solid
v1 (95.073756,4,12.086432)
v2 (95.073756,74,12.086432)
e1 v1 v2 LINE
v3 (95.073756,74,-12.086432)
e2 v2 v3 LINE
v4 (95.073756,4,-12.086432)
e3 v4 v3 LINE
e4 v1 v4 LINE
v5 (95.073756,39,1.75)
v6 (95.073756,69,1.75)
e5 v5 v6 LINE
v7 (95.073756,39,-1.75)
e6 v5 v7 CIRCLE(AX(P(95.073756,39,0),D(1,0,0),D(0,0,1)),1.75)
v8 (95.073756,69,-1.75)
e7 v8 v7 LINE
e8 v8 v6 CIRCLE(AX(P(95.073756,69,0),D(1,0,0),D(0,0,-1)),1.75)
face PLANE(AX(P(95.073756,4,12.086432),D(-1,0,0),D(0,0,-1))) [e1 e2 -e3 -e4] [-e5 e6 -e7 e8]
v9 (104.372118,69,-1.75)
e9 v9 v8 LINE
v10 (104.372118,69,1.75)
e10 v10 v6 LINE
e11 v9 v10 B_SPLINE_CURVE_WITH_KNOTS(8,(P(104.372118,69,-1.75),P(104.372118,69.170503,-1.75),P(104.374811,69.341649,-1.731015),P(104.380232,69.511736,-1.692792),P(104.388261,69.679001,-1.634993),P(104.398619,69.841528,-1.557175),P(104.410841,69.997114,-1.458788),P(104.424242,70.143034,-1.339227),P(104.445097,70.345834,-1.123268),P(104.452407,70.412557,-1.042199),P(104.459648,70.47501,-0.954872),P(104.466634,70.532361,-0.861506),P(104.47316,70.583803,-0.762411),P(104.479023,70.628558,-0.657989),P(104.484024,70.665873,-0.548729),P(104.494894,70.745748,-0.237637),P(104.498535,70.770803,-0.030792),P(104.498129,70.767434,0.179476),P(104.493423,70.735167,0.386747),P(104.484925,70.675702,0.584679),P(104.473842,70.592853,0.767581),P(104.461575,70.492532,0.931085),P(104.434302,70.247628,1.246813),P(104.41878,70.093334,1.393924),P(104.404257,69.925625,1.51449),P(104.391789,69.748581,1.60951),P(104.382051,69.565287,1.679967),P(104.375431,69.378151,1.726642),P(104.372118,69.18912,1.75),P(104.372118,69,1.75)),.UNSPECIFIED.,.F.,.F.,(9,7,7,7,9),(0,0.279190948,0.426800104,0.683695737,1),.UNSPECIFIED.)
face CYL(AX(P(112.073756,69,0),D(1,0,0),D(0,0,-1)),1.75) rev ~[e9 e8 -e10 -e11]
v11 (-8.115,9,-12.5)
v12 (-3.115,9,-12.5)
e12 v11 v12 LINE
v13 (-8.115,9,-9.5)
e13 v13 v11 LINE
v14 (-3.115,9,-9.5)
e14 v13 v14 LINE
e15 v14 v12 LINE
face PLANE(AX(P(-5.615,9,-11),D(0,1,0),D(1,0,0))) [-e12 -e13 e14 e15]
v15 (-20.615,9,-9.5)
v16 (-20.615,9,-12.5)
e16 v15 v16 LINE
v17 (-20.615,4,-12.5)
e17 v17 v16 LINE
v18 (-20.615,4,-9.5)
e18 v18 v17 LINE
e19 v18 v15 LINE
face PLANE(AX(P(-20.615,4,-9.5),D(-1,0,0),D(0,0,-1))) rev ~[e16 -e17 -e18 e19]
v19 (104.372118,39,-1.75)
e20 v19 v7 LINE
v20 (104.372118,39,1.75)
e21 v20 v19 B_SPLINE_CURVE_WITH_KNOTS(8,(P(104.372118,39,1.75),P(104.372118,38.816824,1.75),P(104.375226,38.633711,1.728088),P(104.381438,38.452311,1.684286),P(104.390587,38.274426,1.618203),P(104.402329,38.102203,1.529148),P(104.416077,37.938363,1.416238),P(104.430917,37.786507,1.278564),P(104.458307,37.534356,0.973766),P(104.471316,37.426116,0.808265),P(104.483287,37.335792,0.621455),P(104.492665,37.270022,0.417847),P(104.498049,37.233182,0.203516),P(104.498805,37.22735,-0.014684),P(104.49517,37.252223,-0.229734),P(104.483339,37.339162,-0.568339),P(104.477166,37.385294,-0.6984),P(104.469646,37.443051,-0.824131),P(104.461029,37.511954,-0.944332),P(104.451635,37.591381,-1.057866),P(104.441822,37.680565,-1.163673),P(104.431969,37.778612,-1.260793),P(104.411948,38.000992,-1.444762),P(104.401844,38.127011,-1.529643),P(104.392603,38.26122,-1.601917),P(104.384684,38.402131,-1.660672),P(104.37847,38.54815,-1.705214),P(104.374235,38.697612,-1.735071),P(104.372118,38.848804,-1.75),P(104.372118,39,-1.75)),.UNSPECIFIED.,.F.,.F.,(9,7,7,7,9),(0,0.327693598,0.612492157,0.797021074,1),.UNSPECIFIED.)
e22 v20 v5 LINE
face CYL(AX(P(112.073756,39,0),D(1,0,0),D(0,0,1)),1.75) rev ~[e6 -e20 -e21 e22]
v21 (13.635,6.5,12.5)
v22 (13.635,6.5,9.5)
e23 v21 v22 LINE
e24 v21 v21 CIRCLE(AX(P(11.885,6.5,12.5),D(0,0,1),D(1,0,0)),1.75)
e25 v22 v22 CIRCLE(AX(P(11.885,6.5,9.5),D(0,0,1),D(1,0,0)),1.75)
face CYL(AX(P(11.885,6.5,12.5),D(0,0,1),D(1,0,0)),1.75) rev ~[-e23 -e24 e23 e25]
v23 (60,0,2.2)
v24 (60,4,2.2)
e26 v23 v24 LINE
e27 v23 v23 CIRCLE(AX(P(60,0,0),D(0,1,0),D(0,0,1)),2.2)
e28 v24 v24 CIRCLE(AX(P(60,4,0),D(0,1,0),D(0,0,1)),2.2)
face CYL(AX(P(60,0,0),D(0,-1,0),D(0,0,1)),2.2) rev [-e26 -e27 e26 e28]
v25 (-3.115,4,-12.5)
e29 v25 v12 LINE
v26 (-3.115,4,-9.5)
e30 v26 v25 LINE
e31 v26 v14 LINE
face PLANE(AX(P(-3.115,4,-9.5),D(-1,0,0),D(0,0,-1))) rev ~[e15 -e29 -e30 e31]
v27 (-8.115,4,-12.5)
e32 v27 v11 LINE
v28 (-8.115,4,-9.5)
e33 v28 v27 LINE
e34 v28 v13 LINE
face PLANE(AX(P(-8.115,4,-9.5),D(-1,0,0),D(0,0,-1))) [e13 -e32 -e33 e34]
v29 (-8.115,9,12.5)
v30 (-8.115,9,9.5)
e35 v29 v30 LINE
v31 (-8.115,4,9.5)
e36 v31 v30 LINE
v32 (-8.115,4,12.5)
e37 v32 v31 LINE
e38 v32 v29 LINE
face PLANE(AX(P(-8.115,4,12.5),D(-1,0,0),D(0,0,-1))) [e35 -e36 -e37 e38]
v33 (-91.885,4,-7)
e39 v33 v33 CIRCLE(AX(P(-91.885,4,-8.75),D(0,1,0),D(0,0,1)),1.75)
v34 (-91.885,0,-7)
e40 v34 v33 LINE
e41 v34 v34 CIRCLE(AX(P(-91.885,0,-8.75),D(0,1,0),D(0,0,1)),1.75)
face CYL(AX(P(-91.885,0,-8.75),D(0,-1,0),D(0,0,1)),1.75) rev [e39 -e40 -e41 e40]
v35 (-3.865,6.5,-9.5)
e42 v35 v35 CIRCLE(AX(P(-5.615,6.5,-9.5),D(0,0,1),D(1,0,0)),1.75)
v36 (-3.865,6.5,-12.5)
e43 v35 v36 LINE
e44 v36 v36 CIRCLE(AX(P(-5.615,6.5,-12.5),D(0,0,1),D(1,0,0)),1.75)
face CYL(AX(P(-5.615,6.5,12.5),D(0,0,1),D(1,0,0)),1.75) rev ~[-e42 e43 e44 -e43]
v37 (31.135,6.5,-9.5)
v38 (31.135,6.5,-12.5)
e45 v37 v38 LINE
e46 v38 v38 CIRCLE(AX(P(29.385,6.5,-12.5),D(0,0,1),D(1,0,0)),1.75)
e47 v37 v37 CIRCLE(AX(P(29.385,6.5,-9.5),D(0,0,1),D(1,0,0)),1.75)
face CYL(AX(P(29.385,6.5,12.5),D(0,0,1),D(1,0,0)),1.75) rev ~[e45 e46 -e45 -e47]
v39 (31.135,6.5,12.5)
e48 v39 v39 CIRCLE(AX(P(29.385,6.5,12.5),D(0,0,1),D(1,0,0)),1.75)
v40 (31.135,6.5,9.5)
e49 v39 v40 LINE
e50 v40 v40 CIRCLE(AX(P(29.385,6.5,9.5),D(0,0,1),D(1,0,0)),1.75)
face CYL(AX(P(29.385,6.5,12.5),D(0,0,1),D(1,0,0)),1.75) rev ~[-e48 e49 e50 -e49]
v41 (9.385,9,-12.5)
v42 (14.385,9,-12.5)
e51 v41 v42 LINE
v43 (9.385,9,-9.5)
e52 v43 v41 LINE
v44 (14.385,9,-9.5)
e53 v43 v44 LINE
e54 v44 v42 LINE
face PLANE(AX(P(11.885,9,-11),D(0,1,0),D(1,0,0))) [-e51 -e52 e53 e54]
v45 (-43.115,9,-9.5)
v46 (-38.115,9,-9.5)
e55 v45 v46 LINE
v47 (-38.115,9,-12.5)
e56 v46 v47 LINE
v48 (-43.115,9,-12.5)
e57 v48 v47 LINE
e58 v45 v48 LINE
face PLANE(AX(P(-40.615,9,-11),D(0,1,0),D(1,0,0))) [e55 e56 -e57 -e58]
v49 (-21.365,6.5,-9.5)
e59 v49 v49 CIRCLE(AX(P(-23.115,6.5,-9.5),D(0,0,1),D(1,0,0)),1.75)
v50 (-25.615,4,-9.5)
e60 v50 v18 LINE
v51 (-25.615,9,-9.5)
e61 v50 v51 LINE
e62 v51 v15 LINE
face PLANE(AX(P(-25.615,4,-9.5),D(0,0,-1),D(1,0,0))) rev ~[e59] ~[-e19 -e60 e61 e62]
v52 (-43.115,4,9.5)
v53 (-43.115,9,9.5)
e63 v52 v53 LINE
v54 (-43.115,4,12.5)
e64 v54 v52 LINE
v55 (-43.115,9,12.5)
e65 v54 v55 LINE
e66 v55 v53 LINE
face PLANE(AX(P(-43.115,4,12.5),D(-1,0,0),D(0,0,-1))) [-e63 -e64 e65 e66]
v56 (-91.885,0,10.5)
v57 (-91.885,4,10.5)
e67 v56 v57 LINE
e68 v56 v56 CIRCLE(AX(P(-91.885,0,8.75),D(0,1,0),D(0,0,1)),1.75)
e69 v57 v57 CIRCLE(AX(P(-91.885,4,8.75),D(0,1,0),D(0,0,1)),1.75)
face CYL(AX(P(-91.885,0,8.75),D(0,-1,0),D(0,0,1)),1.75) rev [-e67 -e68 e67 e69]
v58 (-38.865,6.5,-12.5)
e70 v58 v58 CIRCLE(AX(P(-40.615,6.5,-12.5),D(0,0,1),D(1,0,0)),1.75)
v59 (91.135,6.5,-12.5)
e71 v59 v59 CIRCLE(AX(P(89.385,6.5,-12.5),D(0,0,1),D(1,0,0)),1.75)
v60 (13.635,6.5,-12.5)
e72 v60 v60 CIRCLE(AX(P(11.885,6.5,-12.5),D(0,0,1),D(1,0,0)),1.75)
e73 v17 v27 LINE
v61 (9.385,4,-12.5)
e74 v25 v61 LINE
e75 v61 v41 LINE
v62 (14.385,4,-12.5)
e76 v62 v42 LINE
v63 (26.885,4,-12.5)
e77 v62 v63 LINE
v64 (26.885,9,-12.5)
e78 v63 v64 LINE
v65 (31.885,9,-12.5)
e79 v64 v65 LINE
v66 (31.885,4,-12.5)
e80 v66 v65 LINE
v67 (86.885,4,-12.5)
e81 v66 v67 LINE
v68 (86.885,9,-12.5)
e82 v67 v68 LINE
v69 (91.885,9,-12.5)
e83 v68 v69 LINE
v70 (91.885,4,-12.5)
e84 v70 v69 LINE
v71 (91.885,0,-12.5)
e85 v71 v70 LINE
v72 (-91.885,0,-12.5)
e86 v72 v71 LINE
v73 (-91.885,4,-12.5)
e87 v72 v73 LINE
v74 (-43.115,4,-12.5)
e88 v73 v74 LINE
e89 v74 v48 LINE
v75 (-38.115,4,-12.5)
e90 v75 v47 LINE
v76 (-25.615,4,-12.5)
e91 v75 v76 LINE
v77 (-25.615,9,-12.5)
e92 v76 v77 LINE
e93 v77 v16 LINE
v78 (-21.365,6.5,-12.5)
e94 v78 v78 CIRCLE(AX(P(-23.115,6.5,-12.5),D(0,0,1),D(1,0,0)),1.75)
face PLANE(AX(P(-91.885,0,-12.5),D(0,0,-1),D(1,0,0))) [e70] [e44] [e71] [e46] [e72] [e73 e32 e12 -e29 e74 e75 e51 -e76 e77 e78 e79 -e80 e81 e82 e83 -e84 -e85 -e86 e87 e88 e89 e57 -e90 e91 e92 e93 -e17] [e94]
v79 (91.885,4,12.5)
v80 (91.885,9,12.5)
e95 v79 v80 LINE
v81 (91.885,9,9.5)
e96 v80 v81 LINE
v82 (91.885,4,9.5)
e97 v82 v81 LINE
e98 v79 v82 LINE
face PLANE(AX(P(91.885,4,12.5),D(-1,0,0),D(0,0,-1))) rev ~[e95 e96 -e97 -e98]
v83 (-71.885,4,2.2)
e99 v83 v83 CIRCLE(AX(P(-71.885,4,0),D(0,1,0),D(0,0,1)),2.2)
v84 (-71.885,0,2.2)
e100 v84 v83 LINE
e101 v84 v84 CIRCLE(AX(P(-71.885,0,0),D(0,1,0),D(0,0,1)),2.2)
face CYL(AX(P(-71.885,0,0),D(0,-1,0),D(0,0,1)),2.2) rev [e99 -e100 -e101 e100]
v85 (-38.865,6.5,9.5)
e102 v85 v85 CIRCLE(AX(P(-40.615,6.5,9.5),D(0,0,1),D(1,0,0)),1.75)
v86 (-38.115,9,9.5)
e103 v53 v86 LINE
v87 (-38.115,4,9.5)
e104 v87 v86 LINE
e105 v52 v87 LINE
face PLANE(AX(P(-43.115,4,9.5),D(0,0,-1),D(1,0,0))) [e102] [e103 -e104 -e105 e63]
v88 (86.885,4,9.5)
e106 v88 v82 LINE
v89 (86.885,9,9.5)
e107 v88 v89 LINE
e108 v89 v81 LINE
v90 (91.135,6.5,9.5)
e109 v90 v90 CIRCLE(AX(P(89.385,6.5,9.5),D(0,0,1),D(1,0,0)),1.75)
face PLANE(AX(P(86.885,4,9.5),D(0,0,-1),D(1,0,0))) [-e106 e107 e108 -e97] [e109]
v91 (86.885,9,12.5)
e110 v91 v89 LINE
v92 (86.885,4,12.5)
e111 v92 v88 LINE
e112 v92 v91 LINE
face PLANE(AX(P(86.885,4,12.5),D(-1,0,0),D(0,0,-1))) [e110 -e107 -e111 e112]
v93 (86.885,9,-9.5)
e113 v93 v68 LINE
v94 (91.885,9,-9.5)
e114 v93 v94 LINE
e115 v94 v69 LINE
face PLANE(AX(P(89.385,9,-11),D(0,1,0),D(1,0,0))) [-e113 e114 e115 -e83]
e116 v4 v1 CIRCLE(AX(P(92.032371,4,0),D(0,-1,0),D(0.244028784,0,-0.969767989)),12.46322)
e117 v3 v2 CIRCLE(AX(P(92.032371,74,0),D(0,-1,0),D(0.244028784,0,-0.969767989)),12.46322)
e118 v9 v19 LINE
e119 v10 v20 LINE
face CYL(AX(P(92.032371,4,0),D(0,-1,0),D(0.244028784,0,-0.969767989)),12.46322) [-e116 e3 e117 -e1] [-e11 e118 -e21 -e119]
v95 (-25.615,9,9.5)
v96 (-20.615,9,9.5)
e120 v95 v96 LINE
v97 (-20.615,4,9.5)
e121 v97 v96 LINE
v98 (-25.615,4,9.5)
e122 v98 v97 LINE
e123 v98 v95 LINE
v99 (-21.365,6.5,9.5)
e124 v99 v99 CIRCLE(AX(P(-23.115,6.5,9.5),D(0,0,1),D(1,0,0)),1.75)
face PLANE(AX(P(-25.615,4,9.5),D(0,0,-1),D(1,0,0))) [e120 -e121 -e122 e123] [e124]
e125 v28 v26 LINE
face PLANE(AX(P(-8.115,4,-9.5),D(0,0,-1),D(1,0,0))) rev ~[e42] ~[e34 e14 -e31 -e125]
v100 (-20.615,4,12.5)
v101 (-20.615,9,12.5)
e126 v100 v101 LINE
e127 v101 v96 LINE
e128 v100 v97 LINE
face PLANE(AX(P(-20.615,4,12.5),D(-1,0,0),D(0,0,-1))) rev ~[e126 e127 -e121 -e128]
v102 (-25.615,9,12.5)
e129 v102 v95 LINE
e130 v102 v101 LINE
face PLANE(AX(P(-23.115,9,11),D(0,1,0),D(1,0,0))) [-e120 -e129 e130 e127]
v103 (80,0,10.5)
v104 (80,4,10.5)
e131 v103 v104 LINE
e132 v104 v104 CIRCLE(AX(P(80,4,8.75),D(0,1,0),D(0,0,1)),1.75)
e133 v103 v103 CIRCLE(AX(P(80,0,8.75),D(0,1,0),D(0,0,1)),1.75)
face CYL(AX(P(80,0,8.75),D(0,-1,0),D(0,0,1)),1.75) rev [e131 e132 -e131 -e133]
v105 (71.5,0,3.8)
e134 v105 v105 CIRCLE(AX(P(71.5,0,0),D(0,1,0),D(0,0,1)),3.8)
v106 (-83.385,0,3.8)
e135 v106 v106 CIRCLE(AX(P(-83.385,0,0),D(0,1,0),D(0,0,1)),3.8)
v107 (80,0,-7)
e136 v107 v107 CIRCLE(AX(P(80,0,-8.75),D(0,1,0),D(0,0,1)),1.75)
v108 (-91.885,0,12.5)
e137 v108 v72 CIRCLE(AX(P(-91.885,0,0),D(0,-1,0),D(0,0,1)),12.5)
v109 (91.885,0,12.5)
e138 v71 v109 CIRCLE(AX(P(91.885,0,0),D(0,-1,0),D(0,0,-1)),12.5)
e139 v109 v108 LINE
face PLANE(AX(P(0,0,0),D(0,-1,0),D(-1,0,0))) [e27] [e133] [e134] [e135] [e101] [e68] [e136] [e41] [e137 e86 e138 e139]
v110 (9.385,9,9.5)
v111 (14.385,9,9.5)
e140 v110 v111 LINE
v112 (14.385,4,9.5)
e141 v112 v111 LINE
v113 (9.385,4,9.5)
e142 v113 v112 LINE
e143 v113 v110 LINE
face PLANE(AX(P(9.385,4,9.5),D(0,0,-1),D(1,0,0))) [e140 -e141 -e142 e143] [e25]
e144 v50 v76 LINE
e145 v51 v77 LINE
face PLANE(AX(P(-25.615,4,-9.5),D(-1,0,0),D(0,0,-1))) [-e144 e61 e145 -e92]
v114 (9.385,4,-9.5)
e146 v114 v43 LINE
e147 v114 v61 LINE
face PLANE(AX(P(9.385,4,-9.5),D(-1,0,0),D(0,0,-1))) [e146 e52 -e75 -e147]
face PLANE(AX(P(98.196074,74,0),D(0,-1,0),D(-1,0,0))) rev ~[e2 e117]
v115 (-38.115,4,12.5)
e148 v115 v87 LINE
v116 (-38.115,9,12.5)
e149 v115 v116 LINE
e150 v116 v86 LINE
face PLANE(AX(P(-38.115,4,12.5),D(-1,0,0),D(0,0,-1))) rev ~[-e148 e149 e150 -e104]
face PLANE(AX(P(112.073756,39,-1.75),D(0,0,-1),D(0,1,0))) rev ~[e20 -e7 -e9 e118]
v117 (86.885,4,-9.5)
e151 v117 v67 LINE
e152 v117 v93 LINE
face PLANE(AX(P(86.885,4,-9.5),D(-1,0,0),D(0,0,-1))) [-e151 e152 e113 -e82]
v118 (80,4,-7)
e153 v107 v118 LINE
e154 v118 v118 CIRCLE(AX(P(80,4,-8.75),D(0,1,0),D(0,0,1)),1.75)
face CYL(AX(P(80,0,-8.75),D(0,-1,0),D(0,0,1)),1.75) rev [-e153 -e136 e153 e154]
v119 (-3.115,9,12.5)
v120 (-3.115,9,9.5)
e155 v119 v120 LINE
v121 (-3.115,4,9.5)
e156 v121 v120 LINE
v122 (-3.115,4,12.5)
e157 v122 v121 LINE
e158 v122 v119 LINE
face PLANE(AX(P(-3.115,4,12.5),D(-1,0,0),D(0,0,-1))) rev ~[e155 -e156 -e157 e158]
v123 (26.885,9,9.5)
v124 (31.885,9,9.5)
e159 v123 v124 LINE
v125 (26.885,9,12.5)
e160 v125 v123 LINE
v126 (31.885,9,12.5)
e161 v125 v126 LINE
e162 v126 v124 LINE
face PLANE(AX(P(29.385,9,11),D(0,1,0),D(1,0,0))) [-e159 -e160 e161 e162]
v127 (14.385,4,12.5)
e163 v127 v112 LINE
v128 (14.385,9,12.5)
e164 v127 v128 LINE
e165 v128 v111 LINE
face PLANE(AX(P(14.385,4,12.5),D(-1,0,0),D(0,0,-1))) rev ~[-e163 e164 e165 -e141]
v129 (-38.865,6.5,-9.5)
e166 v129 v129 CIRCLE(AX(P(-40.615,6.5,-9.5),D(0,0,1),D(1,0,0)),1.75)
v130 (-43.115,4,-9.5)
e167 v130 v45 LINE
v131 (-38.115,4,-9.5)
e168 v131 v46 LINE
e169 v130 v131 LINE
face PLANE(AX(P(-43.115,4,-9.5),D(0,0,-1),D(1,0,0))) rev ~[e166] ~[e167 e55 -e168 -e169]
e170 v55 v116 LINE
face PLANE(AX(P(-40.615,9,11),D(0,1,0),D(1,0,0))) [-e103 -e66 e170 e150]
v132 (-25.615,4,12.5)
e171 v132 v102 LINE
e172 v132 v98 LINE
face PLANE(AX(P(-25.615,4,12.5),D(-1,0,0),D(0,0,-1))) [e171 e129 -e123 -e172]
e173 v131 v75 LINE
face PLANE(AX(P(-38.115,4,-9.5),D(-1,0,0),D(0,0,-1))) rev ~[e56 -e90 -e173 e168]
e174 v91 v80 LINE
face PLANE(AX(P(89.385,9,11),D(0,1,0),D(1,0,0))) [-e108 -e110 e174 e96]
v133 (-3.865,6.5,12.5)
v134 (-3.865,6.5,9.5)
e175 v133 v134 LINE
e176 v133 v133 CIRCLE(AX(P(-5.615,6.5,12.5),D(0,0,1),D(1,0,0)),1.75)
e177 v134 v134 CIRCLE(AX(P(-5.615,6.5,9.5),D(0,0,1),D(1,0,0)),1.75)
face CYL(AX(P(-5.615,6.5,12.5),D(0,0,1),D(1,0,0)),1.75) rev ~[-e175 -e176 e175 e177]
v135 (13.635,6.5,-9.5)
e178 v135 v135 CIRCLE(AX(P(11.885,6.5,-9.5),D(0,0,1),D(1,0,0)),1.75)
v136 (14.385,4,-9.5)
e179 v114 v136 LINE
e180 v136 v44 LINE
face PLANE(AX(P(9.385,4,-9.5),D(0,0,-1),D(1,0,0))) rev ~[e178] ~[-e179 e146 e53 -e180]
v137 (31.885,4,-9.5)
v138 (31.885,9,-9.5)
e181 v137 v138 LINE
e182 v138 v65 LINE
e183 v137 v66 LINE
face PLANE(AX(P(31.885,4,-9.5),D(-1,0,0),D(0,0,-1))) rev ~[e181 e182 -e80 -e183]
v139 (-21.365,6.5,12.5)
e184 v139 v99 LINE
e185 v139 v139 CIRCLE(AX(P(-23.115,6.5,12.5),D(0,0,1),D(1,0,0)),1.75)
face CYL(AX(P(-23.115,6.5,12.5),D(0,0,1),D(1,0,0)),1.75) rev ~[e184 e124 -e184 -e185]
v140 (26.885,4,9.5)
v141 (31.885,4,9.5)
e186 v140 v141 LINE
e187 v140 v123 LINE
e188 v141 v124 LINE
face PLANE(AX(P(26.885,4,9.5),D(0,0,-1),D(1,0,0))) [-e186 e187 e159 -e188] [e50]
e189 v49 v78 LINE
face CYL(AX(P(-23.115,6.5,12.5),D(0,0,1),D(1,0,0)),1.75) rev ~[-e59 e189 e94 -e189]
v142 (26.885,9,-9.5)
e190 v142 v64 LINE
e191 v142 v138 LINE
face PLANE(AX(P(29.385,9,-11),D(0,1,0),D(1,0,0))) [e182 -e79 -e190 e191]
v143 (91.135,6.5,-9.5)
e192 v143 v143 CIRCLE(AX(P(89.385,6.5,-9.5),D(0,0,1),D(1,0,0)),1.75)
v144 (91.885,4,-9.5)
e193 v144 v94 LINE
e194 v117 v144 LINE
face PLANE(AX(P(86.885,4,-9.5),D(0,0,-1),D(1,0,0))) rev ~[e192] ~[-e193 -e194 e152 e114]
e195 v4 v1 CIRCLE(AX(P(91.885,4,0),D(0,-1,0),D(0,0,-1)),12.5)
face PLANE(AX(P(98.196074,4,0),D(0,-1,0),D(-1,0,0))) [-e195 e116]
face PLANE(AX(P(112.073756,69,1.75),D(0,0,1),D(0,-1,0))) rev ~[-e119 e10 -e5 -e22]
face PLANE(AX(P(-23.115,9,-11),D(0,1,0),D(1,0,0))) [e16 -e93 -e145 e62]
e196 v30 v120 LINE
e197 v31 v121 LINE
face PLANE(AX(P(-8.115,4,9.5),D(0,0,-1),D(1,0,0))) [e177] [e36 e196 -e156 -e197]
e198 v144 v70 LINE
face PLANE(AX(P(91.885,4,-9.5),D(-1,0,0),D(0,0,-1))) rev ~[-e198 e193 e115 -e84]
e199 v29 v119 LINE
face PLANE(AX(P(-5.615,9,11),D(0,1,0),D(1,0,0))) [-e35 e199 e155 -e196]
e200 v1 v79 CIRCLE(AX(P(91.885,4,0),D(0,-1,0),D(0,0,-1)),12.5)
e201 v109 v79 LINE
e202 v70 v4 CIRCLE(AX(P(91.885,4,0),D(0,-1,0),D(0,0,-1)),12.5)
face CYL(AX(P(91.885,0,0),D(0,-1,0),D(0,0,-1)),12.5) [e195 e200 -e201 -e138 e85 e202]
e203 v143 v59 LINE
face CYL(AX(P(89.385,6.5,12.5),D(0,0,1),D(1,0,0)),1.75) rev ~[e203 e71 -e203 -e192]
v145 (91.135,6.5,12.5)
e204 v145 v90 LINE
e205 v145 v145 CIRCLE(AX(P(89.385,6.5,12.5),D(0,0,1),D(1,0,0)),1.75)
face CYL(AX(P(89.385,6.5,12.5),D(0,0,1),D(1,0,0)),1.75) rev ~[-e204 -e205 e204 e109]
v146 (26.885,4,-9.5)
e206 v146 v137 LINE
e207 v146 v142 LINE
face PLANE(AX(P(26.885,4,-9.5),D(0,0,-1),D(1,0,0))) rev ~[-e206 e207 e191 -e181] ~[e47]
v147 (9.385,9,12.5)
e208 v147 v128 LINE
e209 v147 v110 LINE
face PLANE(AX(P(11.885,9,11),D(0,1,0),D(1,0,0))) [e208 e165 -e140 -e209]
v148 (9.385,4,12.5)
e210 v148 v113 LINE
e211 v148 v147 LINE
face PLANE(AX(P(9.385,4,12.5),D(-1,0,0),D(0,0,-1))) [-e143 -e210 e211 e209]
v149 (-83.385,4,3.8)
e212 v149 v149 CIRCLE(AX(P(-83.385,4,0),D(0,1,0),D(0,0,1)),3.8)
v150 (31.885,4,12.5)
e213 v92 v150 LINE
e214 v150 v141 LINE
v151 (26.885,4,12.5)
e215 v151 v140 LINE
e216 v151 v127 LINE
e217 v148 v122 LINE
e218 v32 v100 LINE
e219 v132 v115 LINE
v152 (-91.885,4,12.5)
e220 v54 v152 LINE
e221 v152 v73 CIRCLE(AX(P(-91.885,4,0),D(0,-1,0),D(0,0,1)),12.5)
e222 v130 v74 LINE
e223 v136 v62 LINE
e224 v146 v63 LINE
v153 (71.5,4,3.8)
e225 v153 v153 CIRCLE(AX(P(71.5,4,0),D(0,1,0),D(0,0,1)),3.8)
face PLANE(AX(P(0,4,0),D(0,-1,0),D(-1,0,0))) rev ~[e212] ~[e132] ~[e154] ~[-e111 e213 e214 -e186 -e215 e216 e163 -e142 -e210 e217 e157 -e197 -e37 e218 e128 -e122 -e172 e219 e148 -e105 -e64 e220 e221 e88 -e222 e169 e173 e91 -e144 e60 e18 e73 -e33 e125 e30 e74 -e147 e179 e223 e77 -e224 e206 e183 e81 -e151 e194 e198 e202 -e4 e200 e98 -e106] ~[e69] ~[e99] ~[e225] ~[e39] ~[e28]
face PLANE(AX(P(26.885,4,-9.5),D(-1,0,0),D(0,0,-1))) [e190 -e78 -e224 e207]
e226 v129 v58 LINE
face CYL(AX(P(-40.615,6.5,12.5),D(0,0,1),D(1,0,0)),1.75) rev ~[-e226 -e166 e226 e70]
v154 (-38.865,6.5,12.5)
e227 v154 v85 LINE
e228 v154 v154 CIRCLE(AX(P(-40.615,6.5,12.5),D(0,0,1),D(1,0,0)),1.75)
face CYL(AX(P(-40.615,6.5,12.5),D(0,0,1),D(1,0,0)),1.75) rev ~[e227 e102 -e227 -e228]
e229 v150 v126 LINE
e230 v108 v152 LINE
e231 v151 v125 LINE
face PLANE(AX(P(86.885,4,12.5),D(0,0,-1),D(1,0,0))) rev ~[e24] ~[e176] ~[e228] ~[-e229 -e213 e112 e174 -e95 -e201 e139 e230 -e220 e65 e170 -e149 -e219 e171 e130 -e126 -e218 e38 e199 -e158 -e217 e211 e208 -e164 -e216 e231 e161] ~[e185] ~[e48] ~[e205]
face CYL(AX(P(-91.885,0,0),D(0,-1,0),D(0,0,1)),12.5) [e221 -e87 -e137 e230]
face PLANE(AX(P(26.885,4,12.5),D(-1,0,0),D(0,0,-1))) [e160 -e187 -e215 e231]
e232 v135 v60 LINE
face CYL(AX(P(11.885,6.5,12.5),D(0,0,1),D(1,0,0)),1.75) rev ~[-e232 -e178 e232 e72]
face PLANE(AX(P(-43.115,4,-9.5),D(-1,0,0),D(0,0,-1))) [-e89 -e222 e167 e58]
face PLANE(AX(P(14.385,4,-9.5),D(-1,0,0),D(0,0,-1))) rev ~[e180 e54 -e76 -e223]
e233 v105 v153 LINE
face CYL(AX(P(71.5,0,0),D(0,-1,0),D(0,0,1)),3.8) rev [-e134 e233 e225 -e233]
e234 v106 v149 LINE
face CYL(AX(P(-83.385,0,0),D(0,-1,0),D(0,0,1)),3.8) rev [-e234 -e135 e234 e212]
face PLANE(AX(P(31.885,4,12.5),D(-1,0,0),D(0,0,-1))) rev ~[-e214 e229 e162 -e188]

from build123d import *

# Parameters (mm, degrees)
SKETCH1_R               = 3.8
SKETCH1_R_2             = 1.75
SKETCH1_R_3             = 2.2
BOSS_EXTRUDE1_DEPTH     = 4
BOSS_EXTRUDE2_DEPTH     = 70
CUT_EXTRUDE1_DEPTH      = 10
CUT_EXTRUDE1_DEPTH_BACK = 17
SKETCH6_W               = 5
SKETCH6_H               = 3
BOSS_EXTRUDE4_DEPTH     = 5
SKETCH7_R               = 1.75
CUT_EXTRUDE2_DEPTH      = 35


with BuildPart() as part:
    # Sketch1 → Boss-Extrude1 (new body)
    with BuildSketch(Plane(origin=(0, 0, 0), x_dir=(1, 0, 0), z_dir=(0, 1, 0))):
        with BuildLine():
            Line((-91.885, 12.5), (91.885, 12.5))
            ThreePointArc((91.885, 12.5), (104.385, 0), (91.885, -12.5))
            Line((91.885, -12.5), (-91.885, -12.5))
            ThreePointArc((-91.885, -12.5), (-104.385, 0), (-91.885, 12.5))
        make_face()
        with Locations(Location((71.5, 0, 0), (0, 0, 270))):
            Circle(SKETCH1_R, mode=Mode.SUBTRACT)
        with Locations(Location((-91.885, 8.75, 0), (0, 0, 270))):
            Circle(SKETCH1_R_2, mode=Mode.SUBTRACT)
        with Locations(Location((-91.885, -8.75, 0), (0, 0, 270))):
            Circle(SKETCH1_R_2, mode=Mode.SUBTRACT)
        with Locations(Location((-83.385, 0, 0), (0, 0, 270))):
            Circle(SKETCH1_R, mode=Mode.SUBTRACT)
        with Locations(Location((-71.885, 0, 0), (0, 0, 270))):
            Circle(SKETCH1_R_3, mode=Mode.SUBTRACT)
        with Locations(Location((60, 0, 0), (0, 0, 270))):
            Circle(SKETCH1_R_3, mode=Mode.SUBTRACT)
        with Locations(Location((80, 8.75, 0), (0, 0, 270))):
            Circle(SKETCH1_R_2, mode=Mode.SUBTRACT)
        with Locations(Location((80, -8.75, 0), (0, 0, 270))):
            Circle(SKETCH1_R_2, mode=Mode.SUBTRACT)
    extrude(amount=BOSS_EXTRUDE1_DEPTH)

    # Sketch2 → Boss-Extrude2 (add)
    with BuildSketch(Plane(origin=(0, 4, 0), x_dir=(1, 0, 0), z_dir=(0, 1, 0))):
        with BuildLine():
            Line((95.073755841, -12.086431905), (95.073755841, 12.086431905))
            ThreePointArc((95.073755841, 12.086431905), (104.495591505, 0), (95.073755841, -12.086431905))
        make_face()
    extrude(amount=BOSS_EXTRUDE2_DEPTH)

    # Sketch5 → Cut-Extrude1 (cut, two sides: drawn at the far end of the back side and taken through both)
    with BuildSketch(Plane.ZY.offset(-95.073755841).offset(-CUT_EXTRUDE1_DEPTH_BACK)):
        with BuildLine():
            Line((-1.75, 39), (-1.75, 69))
            ThreePointArc((-1.75, 69), (0, 70.75), (1.75, 69))
            Line((1.75, 69), (1.75, 39))
            ThreePointArc((1.75, 39), (0, 37.25), (-1.75, 39))
        make_face()
    extrude(amount=CUT_EXTRUDE1_DEPTH + CUT_EXTRUDE1_DEPTH_BACK, mode=Mode.SUBTRACT)

    # Sketch6 → Boss-Extrude4 (add)
    with BuildSketch(Plane(origin=(0, 4, 0), x_dir=(1, 0, 0), z_dir=(0, 1, 0))):
        with Locations((89.385, -11)):
            Rectangle(SKETCH6_W, SKETCH6_H)
        with Locations((29.385, -11)):
            Rectangle(SKETCH6_W, SKETCH6_H)
        with Locations((11.885, -11)):
            Rectangle(SKETCH6_W, SKETCH6_H)
        with Locations((-5.615, -11)):
            Rectangle(SKETCH6_W, SKETCH6_H)
        with Locations((-23.115, -11)):
            Rectangle(SKETCH6_W, SKETCH6_H)
        with Locations((-40.615, -11)):
            Rectangle(SKETCH6_W, SKETCH6_H)
        with Locations((89.385, 11)):
            Rectangle(SKETCH6_W, SKETCH6_H)
        with Locations((29.385, 11)):
            Rectangle(SKETCH6_W, SKETCH6_H)
        with Locations((11.885, 11)):
            Rectangle(SKETCH6_W, SKETCH6_H)
        with Locations((-5.615, 11)):
            Rectangle(SKETCH6_W, SKETCH6_H)
        with Locations((-23.115, 11)):
            Rectangle(SKETCH6_W, SKETCH6_H)
        with Locations((-40.615, 11)):
            Rectangle(SKETCH6_W, SKETCH6_H)
    extrude(amount=BOSS_EXTRUDE4_DEPTH)

    # Sketch7 → Cut-Extrude2 (cut)
    with BuildSketch(Plane.XY.offset(12.5)):
        with Locations((89.385, 6.5)):
            Circle(SKETCH7_R)
        with Locations((29.385, 6.5)):
            Circle(SKETCH7_R)
        with Locations((11.885, 6.5)):
            Circle(SKETCH7_R)
        with Locations((-5.615, 6.5)):
            Circle(SKETCH7_R)
        with Locations((-23.115, 6.5)):
            Circle(SKETCH7_R)
        with Locations((-40.615, 6.5)):
            Circle(SKETCH7_R)
    extrude(amount=-CUT_EXTRUDE2_DEPTH, mode=Mode.SUBTRACT)


solid = part.part
